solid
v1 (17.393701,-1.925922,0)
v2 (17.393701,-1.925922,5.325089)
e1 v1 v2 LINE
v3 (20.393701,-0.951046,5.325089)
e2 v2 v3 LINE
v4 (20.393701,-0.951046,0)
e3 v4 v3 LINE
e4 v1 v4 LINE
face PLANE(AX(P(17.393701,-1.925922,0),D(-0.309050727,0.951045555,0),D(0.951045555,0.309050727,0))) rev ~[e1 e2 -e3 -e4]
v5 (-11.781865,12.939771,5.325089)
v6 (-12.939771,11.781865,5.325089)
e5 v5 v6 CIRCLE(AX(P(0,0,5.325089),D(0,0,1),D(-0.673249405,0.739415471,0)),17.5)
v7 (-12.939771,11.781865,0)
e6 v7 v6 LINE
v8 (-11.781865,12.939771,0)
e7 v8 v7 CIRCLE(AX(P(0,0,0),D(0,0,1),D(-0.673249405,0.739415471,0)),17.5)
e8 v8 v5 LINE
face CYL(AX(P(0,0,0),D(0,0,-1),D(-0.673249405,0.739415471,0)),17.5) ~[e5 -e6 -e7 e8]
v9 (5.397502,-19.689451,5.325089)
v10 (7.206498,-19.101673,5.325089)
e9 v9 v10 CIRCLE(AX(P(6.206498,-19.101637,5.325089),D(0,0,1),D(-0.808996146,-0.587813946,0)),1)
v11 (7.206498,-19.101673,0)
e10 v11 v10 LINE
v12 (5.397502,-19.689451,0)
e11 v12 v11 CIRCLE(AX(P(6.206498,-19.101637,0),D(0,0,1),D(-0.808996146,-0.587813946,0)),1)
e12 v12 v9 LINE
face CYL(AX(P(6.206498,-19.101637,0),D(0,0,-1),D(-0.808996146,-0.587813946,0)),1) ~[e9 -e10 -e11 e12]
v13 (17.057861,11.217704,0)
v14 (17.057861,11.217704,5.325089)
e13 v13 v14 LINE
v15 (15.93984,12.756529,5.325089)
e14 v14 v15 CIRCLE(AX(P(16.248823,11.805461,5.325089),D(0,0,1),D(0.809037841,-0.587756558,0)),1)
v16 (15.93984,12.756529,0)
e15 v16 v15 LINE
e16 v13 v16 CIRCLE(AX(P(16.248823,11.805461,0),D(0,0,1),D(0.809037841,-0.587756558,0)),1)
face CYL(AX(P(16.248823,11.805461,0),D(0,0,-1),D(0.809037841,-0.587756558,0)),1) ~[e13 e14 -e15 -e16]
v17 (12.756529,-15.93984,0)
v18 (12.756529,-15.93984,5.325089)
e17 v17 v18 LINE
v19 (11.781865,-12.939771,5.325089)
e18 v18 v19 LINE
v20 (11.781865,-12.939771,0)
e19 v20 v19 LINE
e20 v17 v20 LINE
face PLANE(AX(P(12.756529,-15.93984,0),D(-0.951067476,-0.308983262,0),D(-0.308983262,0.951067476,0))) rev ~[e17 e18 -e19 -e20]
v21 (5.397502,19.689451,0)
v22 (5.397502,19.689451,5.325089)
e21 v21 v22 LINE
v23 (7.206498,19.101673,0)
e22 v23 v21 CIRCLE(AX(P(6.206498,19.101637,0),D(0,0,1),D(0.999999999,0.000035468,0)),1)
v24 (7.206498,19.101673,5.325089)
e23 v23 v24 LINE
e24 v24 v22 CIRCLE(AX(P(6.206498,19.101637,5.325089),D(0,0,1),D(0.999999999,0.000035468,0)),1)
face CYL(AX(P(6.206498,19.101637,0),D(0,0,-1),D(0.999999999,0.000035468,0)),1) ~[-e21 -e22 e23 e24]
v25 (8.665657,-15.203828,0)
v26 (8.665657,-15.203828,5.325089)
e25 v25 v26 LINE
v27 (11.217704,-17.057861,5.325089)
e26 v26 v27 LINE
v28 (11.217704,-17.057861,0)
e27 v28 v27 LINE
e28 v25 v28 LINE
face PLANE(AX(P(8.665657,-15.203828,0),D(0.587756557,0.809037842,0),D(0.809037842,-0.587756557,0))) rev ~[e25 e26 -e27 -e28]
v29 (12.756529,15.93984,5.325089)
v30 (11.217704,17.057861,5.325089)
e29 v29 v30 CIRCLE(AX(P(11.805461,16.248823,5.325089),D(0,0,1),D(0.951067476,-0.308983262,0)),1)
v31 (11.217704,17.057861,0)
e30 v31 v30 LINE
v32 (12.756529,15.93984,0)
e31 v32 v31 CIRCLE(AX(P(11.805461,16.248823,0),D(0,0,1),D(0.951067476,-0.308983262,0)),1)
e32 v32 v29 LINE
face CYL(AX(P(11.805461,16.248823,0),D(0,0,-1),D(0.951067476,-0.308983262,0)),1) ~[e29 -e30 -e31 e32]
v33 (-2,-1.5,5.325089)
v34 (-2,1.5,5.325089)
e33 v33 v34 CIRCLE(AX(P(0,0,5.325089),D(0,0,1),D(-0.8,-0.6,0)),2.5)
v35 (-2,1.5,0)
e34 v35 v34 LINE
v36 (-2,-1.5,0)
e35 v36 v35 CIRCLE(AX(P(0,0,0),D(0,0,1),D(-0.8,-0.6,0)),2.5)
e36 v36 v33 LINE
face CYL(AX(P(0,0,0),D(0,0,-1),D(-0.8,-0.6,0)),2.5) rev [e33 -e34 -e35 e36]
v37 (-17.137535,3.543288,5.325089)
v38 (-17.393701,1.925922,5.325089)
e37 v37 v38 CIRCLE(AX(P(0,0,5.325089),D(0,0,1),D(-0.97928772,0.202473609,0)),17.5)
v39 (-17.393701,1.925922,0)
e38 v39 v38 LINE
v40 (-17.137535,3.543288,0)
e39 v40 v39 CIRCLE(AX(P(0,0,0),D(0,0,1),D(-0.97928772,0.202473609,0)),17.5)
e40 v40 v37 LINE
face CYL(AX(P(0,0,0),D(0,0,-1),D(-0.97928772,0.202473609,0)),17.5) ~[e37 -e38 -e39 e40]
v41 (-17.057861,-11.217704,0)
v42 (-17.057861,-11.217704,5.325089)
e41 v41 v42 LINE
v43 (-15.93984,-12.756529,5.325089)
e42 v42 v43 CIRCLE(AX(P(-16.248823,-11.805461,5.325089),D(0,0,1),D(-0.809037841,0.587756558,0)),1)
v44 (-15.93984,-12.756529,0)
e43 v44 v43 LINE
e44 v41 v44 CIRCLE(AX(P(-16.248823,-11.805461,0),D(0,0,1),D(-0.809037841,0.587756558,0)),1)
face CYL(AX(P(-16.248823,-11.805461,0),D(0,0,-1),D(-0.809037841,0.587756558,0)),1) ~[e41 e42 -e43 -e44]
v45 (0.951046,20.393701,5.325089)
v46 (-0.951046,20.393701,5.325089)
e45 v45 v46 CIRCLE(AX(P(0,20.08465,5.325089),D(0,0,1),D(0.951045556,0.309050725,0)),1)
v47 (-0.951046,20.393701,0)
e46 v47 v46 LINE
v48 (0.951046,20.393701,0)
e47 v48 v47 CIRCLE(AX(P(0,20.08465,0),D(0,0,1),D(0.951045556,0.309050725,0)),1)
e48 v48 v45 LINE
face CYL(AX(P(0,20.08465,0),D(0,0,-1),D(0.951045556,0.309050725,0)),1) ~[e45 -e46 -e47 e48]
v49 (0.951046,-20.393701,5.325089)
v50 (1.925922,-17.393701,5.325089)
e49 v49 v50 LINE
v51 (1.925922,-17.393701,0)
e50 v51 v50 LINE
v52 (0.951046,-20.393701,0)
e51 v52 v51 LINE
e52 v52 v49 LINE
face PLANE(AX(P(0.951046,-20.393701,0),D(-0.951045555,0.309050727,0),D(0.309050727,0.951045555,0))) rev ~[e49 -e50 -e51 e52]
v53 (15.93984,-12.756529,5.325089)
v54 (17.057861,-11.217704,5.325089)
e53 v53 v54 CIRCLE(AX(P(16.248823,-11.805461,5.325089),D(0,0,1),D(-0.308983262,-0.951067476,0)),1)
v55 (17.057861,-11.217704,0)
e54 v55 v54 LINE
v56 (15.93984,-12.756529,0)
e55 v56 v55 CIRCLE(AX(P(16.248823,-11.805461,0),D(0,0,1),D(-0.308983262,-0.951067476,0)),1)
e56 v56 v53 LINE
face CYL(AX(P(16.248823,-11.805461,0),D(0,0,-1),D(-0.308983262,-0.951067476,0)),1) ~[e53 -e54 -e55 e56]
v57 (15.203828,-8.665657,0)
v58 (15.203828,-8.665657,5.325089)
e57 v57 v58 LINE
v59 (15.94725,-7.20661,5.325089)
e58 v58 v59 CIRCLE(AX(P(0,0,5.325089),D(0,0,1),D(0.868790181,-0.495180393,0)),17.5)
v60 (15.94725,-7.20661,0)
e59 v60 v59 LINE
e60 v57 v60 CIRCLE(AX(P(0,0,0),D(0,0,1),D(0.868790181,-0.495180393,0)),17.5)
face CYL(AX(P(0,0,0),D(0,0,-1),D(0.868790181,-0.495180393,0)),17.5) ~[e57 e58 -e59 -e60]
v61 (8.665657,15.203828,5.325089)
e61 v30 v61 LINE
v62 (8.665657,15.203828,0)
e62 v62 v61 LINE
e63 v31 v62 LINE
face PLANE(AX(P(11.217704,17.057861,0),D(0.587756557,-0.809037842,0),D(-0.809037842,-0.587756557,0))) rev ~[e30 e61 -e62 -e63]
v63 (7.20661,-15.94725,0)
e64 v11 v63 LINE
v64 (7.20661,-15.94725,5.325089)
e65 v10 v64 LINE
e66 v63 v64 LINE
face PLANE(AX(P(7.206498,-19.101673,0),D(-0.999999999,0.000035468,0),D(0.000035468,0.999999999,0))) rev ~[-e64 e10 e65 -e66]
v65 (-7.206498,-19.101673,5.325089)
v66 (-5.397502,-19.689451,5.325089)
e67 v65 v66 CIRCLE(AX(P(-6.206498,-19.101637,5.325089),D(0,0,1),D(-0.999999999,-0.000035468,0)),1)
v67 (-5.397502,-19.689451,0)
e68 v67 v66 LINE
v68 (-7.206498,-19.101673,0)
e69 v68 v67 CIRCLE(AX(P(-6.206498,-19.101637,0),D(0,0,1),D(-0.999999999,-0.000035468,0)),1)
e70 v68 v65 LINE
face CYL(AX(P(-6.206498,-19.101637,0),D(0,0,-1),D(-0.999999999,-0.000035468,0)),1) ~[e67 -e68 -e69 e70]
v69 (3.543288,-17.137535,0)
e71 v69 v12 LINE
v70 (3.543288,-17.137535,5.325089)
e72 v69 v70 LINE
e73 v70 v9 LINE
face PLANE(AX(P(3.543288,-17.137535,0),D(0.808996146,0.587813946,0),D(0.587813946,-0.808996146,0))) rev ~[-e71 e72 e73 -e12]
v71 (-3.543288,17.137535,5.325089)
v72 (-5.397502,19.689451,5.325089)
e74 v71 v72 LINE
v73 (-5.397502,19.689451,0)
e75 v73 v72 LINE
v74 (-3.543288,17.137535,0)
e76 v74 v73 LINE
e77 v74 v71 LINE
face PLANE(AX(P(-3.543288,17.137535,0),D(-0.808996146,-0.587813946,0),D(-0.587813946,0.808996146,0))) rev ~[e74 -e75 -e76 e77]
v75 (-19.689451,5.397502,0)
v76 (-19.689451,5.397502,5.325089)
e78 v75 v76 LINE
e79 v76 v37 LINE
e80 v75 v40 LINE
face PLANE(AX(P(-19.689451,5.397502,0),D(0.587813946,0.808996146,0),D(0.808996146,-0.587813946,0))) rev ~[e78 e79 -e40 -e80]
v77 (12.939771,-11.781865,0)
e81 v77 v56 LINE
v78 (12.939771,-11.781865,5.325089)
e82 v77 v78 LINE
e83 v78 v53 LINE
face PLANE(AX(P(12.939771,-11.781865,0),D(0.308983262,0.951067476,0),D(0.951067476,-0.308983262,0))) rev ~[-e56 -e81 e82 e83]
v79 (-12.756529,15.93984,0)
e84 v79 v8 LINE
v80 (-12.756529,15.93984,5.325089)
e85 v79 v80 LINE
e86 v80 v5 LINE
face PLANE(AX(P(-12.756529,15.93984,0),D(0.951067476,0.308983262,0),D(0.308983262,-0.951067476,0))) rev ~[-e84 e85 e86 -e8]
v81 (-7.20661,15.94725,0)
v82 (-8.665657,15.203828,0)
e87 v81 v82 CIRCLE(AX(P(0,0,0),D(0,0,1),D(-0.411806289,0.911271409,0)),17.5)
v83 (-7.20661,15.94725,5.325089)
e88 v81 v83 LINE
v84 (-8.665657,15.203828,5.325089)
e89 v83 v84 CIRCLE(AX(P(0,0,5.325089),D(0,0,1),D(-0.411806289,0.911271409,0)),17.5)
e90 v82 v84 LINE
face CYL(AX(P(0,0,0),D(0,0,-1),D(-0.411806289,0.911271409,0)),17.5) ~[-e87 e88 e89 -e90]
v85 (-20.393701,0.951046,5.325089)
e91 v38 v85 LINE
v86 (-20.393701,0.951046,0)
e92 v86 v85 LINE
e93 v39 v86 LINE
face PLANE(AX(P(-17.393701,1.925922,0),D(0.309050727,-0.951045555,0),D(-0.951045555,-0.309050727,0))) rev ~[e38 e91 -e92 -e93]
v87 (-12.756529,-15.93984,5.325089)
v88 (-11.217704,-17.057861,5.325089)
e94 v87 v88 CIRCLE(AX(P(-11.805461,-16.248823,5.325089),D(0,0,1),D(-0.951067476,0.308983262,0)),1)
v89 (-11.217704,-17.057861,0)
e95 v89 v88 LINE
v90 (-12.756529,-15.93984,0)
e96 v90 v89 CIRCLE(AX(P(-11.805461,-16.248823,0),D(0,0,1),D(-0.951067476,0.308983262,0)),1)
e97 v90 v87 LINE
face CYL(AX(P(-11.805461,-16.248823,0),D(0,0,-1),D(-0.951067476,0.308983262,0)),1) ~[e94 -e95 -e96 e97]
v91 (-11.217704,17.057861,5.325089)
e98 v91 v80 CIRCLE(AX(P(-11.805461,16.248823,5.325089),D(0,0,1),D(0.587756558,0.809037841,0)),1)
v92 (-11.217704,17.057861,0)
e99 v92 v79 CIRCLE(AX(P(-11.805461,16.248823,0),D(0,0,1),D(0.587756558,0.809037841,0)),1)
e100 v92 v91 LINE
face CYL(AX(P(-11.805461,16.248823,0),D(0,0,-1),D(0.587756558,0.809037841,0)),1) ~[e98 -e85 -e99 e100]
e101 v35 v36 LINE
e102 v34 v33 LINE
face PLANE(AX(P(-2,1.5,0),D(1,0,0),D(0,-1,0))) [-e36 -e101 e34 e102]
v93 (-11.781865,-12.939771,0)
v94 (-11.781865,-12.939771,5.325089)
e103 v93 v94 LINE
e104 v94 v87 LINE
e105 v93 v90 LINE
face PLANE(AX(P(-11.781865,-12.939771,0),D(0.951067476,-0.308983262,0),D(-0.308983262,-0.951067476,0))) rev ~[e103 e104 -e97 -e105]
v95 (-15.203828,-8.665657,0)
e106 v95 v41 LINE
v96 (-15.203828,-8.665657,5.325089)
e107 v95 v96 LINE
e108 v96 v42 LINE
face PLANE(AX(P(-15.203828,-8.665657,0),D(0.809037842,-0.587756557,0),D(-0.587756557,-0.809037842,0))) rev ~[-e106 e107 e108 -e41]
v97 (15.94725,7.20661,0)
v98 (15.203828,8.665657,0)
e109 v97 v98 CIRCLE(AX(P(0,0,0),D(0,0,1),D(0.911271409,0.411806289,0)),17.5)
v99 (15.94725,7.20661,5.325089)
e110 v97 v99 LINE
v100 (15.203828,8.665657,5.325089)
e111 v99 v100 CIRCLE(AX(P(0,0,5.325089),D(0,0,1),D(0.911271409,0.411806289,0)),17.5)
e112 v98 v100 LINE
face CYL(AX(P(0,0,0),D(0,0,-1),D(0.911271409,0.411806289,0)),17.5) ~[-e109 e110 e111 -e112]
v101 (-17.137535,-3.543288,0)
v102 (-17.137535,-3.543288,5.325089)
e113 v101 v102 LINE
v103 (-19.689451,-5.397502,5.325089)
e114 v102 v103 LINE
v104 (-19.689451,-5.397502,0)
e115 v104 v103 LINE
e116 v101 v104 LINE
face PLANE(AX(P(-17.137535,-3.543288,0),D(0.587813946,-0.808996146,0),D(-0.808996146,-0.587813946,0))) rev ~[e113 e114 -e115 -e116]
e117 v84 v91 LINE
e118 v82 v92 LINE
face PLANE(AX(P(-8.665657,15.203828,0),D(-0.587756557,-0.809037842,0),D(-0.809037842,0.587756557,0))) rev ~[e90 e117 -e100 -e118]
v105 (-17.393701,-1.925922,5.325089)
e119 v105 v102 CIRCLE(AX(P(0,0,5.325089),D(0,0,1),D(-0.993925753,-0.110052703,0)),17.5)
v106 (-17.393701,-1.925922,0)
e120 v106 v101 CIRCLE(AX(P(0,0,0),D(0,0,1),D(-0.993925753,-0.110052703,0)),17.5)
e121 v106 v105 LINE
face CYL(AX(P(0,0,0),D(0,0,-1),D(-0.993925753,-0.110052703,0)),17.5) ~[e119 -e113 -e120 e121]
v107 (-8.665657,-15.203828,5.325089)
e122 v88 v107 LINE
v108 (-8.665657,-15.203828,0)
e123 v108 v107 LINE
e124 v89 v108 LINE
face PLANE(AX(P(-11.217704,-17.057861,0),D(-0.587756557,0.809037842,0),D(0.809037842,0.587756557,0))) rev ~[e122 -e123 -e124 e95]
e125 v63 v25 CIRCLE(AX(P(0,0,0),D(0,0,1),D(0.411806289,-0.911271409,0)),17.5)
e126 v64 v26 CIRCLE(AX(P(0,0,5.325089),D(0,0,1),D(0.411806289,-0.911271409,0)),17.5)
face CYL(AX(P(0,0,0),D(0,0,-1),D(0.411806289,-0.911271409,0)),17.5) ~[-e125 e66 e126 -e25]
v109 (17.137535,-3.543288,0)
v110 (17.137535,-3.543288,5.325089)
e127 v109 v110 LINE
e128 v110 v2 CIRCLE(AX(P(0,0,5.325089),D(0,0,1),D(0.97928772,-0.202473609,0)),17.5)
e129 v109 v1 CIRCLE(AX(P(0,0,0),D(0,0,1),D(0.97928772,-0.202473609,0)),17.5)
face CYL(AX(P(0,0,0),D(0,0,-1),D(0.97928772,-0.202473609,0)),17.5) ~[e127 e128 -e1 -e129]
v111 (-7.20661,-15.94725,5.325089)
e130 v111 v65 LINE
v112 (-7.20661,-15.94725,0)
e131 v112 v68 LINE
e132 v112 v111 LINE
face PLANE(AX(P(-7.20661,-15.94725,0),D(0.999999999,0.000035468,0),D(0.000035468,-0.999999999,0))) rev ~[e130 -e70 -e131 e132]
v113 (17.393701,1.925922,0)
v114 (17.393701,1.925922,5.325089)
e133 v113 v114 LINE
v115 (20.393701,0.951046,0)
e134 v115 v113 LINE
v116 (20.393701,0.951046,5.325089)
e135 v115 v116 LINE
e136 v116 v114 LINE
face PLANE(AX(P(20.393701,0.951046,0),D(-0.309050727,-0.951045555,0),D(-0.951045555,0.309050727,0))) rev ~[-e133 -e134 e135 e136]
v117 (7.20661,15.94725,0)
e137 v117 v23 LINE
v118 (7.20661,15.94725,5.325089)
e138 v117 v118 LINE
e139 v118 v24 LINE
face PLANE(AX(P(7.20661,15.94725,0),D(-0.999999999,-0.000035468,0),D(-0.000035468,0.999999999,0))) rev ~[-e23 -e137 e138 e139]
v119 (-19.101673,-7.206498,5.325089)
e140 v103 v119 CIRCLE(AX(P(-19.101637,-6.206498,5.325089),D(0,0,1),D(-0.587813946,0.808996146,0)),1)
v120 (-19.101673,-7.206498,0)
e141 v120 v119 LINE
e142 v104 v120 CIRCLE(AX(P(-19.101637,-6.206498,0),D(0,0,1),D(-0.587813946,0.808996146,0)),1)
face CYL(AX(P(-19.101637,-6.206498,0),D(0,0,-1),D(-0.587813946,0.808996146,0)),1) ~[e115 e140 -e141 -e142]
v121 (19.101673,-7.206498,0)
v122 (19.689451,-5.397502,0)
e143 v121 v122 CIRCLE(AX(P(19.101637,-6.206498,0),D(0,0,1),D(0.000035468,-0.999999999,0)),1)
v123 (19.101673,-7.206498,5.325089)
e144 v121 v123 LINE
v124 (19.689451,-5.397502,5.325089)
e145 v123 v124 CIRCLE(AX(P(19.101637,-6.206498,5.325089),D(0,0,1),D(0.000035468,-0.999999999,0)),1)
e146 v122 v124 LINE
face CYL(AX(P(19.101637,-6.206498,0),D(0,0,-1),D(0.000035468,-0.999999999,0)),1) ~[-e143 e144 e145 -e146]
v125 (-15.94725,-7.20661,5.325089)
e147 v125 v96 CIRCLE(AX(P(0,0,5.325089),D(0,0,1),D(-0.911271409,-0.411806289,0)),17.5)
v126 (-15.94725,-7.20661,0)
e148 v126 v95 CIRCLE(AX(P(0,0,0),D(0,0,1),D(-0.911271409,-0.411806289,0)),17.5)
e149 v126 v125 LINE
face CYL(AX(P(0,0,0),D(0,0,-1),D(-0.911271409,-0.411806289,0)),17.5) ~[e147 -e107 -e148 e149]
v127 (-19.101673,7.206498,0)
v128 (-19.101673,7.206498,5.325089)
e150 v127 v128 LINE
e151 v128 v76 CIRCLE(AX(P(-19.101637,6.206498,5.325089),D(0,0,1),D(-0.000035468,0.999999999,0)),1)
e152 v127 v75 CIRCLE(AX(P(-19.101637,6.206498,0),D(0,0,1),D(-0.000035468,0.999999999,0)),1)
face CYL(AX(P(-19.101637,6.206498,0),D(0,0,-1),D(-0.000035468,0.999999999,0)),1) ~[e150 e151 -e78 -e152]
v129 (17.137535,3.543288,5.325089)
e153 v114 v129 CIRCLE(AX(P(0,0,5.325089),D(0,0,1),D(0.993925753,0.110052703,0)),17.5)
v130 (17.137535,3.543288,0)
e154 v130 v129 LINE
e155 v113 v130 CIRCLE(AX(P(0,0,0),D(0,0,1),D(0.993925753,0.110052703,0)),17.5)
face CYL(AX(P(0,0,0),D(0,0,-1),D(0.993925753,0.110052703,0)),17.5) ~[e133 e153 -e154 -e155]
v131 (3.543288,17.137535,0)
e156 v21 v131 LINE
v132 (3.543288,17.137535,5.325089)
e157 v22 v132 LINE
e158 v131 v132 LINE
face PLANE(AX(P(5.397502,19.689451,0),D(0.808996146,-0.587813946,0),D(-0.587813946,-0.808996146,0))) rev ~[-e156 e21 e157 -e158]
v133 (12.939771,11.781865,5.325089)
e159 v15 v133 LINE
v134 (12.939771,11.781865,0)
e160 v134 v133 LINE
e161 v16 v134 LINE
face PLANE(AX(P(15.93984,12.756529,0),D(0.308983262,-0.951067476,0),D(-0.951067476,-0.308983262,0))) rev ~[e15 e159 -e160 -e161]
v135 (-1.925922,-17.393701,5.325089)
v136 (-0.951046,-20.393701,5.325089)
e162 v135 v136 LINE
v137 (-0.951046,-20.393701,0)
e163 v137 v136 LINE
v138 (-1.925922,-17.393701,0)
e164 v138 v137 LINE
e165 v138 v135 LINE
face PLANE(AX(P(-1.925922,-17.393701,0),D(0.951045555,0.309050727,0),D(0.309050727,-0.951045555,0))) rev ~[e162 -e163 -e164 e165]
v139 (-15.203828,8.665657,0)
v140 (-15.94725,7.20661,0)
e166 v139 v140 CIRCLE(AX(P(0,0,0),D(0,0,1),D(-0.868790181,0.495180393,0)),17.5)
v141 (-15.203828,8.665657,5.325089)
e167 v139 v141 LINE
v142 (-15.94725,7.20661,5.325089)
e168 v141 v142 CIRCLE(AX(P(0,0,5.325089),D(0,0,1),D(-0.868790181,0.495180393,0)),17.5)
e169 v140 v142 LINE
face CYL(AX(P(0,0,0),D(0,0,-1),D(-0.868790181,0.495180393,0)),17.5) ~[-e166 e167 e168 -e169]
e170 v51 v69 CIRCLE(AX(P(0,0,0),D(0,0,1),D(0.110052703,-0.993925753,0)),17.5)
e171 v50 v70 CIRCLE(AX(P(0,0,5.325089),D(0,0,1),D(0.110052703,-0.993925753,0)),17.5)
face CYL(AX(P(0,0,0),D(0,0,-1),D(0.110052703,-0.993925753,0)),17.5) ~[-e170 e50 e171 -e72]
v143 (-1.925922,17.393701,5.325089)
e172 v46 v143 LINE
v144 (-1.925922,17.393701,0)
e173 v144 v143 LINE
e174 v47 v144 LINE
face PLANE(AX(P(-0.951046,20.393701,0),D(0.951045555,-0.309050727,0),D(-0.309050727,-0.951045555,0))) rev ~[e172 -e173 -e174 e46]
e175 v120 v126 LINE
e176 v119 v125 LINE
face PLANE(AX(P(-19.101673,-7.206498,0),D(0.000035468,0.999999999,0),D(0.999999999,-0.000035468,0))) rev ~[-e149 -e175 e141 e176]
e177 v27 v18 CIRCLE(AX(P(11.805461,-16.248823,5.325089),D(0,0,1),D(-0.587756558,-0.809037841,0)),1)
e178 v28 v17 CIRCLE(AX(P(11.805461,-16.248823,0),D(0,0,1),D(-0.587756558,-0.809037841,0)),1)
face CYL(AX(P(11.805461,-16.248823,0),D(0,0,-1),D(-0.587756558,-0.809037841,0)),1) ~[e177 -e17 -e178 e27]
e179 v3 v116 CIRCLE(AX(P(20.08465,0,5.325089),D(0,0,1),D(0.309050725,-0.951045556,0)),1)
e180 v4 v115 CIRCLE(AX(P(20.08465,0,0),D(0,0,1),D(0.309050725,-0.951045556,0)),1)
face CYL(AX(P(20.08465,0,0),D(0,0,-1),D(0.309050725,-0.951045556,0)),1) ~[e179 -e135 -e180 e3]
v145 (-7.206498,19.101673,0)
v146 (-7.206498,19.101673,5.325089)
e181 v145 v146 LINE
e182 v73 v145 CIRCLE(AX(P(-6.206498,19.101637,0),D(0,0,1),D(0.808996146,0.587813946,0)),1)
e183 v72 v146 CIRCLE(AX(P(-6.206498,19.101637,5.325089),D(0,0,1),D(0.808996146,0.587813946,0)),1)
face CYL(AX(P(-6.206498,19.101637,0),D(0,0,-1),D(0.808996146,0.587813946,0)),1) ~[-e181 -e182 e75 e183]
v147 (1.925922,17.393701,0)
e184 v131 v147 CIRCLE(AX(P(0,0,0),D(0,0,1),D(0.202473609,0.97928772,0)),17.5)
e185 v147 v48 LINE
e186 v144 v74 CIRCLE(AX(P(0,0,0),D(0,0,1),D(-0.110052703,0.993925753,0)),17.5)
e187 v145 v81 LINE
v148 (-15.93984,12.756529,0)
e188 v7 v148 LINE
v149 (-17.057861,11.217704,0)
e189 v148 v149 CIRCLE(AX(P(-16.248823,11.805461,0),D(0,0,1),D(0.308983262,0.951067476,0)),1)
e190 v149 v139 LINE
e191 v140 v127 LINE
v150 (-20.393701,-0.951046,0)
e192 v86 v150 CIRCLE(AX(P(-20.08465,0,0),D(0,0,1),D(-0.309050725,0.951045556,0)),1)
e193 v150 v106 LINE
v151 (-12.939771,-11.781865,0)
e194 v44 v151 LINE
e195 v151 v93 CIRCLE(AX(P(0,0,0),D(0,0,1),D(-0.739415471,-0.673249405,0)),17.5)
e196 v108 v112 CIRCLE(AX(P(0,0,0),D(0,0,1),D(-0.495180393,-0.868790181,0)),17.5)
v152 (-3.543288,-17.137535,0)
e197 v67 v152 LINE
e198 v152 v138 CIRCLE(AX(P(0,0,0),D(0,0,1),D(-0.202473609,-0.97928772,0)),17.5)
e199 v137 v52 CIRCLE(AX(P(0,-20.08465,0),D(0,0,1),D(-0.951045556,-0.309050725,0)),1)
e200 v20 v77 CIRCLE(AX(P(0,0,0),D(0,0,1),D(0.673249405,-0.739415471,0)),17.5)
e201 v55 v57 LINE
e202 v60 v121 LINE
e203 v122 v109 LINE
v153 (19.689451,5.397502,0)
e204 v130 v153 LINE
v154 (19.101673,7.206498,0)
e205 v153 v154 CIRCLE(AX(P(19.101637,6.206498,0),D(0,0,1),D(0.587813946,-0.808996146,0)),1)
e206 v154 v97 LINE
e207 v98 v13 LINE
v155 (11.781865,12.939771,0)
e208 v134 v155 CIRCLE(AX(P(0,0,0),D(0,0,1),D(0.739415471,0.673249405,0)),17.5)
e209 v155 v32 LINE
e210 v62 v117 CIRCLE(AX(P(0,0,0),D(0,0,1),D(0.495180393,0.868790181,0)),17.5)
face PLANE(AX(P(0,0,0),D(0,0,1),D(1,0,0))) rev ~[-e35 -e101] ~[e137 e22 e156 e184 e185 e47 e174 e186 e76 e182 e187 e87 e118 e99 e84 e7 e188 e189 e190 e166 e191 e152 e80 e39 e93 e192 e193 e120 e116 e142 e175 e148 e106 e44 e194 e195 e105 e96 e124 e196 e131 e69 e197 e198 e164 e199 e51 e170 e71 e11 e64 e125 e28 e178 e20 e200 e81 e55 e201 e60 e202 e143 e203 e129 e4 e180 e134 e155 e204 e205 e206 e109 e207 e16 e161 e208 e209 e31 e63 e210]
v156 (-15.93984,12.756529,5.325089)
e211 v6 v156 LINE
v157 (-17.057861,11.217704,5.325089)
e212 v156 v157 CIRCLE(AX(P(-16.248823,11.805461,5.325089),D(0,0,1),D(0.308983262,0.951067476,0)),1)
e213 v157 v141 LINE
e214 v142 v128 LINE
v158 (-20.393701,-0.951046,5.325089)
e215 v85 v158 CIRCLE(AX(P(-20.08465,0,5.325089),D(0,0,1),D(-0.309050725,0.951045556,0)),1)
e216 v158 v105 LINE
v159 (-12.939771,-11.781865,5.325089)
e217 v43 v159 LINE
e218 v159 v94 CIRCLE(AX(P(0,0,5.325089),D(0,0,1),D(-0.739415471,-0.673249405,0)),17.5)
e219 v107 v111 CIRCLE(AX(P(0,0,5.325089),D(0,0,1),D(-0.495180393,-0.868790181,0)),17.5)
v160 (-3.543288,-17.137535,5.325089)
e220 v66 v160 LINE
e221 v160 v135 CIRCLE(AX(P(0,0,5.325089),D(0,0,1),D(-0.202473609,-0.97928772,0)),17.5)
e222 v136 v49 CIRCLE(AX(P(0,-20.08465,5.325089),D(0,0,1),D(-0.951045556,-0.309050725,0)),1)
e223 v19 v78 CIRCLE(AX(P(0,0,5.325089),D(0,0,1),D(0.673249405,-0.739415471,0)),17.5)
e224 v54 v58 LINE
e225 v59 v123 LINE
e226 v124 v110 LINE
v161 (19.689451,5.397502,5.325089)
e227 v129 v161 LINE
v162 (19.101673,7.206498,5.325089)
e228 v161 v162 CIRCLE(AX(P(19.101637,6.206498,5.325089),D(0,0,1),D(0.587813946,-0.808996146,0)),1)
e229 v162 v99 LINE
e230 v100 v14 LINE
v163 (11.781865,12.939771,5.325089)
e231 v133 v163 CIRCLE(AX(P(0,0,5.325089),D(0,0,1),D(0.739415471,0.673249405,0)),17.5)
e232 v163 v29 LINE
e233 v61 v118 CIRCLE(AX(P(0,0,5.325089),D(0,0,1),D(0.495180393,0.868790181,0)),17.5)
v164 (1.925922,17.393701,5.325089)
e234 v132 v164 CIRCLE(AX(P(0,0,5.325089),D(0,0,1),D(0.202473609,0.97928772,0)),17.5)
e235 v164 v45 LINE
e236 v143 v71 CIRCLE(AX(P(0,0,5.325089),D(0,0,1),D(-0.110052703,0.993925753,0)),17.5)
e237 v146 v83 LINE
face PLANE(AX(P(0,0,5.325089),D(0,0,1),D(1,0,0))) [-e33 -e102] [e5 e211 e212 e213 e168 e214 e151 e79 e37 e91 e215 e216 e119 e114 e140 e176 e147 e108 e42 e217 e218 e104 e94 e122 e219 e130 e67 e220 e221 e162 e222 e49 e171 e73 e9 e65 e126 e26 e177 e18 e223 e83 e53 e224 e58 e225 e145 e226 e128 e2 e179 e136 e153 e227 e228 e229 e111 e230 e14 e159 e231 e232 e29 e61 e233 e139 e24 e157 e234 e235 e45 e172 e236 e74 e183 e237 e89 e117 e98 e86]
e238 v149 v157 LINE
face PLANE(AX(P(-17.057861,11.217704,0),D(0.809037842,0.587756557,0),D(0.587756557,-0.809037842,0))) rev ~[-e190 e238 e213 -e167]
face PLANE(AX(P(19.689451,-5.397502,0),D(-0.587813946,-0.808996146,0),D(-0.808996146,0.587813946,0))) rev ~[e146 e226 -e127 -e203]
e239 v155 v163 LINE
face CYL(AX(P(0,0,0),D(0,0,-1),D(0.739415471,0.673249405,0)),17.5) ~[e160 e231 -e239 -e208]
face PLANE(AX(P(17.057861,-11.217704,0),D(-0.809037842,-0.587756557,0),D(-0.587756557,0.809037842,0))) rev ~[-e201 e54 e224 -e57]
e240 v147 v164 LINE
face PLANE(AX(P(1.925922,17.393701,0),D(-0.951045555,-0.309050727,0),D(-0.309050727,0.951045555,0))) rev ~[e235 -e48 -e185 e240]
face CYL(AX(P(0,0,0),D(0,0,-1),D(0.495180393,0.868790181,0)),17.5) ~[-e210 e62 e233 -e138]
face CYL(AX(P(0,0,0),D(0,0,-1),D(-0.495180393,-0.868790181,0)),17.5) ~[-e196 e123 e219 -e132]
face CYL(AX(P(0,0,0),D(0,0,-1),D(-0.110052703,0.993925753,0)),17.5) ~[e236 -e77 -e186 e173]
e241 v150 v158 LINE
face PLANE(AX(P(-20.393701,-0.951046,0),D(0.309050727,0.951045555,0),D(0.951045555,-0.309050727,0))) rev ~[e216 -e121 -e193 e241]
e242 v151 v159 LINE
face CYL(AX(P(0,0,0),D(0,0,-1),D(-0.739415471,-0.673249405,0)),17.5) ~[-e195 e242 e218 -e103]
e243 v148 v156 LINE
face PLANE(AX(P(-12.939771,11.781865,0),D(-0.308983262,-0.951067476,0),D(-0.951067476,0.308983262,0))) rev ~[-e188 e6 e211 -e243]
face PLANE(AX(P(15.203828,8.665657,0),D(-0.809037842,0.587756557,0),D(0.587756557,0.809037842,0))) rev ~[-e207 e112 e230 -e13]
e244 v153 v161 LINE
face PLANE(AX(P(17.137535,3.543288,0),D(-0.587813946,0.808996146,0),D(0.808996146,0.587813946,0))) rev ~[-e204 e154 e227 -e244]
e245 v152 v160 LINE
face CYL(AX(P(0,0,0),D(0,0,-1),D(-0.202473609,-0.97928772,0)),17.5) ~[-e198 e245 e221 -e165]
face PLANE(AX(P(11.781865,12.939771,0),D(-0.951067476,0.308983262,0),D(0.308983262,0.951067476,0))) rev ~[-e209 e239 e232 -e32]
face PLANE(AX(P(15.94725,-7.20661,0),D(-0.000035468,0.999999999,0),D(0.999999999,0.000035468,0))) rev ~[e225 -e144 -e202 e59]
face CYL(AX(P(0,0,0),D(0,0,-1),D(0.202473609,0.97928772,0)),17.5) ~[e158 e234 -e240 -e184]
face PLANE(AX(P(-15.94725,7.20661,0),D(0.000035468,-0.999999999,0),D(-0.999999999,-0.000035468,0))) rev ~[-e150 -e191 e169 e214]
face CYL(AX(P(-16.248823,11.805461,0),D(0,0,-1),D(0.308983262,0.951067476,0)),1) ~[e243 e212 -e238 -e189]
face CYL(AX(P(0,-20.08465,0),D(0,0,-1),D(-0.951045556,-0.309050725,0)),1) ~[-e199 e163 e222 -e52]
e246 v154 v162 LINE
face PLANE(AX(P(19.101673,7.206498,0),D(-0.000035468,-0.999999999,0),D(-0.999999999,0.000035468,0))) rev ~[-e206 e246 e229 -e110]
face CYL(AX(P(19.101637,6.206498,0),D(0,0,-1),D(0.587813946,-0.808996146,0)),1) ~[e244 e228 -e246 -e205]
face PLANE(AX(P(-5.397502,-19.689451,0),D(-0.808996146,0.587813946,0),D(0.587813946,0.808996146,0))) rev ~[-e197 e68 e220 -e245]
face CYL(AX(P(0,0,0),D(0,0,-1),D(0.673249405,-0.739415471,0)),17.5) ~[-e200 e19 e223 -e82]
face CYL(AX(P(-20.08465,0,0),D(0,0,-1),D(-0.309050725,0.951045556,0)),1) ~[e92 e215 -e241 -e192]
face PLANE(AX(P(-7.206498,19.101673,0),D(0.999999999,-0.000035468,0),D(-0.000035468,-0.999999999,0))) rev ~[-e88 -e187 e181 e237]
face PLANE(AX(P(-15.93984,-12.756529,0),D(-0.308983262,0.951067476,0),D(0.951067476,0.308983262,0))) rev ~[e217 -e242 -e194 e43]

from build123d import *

# Parameters (mm, degrees)
DODANIE_WYCI_GNI_CIE1_DEPTH = 5.325088567


with BuildPart() as part:
    # Szkic1 → Dodanie-wyciągnięcie1 (new body)
    with BuildSketch(Plane.XY):
        with BuildLine():
            Line((-0.951045555, 20.39370068), (-1.925922284, 17.39370068))
            ThreePointArc((-1.925922284, 17.39370068), (-2.737603138, 17.28454596), (-3.543288168, 17.13753509))
            Line((-3.543288168, 17.13753509), (-5.397502016, 19.689451162))
            ThreePointArc((-5.397502016, 19.689451162), (-6.515515156, 20.052693732), (-7.206498161, 19.101672684))
            Line((-7.206498161, 19.101672684), (-7.206610043, 15.947249659))
            ThreePointArc((-7.206610043, 15.947249659), (-7.944833745, 15.592614173), (-8.665656885, 15.203828161))
            Line((-8.665656885, 15.203828161), (-11.217704483, 17.05786098))
            ThreePointArc((-11.217704483, 17.05786098), (-12.393246293, 17.057840133), (-12.756528516, 15.939839877))
            Line((-12.756528516, 15.939839877), (-11.7818646, 12.93977073))
            ThreePointArc((-11.7818646, 12.93977073), (-12.374368671, 12.374368671), (-12.93977073, 11.7818646))
            Line((-12.93977073, 11.7818646), (-15.939839877, 12.756528516))
            ThreePointArc((-15.939839877, 12.756528516), (-17.057840133, 12.393246293), (-17.05786098, 11.217704483))
            Line((-17.05786098, 11.217704483), (-15.203828161, 8.665656885))
            ThreePointArc((-15.203828161, 8.665656885), (-15.592614173, 7.944833745), (-15.947249659, 7.206610043))
            Line((-15.947249659, 7.206610043), (-19.101672684, 7.206498161))
            ThreePointArc((-19.101672684, 7.206498161), (-20.052693732, 6.515515156), (-19.689451162, 5.397502016))
            Line((-19.689451162, 5.397502016), (-17.13753509, 3.543288168))
            ThreePointArc((-17.13753509, 3.543288168), (-17.28454596, 2.737603138), (-17.39370068, 1.925922284))
            Line((-17.39370068, 1.925922284), (-20.39370068, 0.951045555))
            ThreePointArc((-20.39370068, 0.951045555), (-21.084649954, 0), (-20.39370068, -0.951045555))
            Line((-20.39370068, -0.951045555), (-17.39370068, -1.925922284))
            ThreePointArc((-17.39370068, -1.925922284), (-17.28454596, -2.737603138), (-17.13753509, -3.543288168))
            Line((-17.13753509, -3.543288168), (-19.689451162, -5.397502016))
            ThreePointArc((-19.689451162, -5.397502016), (-20.052693732, -6.515515156), (-19.101672684, -7.206498161))
            Line((-19.101672684, -7.206498161), (-15.947249659, -7.206610043))
            ThreePointArc((-15.947249659, -7.206610043), (-15.592614173, -7.944833745), (-15.203828161, -8.665656885))
            Line((-15.203828161, -8.665656885), (-17.05786098, -11.217704483))
            ThreePointArc((-17.05786098, -11.217704483), (-17.057840133, -12.393246293), (-15.939839877, -12.756528516))
            Line((-15.939839877, -12.756528516), (-12.93977073, -11.7818646))
            ThreePointArc((-12.93977073, -11.7818646), (-12.374368671, -12.374368671), (-11.7818646, -12.93977073))
            Line((-11.7818646, -12.93977073), (-12.756528516, -15.939839877))
            ThreePointArc((-12.756528516, -15.939839877), (-12.393246293, -17.057840133), (-11.217704483, -17.05786098))
            Line((-11.217704483, -17.05786098), (-8.665656885, -15.203828161))
            ThreePointArc((-8.665656885, -15.203828161), (-7.944833745, -15.592614173), (-7.206610043, -15.947249659))
            Line((-7.206610043, -15.947249659), (-7.206498161, -19.101672684))
            ThreePointArc((-7.206498161, -19.101672684), (-6.515515156, -20.052693732), (-5.397502016, -19.689451162))
            Line((-5.397502016, -19.689451162), (-3.543288168, -17.13753509))
            ThreePointArc((-3.543288168, -17.13753509), (-2.737603138, -17.28454596), (-1.925922284, -17.39370068))
            Line((-1.925922284, -17.39370068), (-0.951045555, -20.39370068))
            ThreePointArc((-0.951045555, -20.39370068), (0, -21.084649954), (0.951045555, -20.39370068))
            Line((0.951045555, -20.39370068), (1.925922284, -17.39370068))
            ThreePointArc((1.925922284, -17.39370068), (2.737603138, -17.28454596), (3.543288168, -17.13753509))
            Line((3.543288168, -17.13753509), (5.397502016, -19.689451162))
            ThreePointArc((5.397502016, -19.689451162), (6.515515156, -20.052693732), (7.206498161, -19.101672684))
            Line((7.206498161, -19.101672684), (7.206610043, -15.947249659))
            ThreePointArc((7.206610043, -15.947249659), (7.944833745, -15.592614173), (8.665656885, -15.203828161))
            Line((8.665656885, -15.203828161), (11.217704483, -17.05786098))
            ThreePointArc((11.217704483, -17.05786098), (12.393246293, -17.057840133), (12.756528516, -15.939839877))
            Line((12.756528516, -15.939839877), (11.7818646, -12.93977073))
            ThreePointArc((11.7818646, -12.93977073), (12.374368671, -12.374368671), (12.93977073, -11.7818646))
            Line((12.93977073, -11.7818646), (15.939839877, -12.756528516))
            ThreePointArc((15.939839877, -12.756528516), (17.057840133, -12.393246293), (17.05786098, -11.217704483))
            Line((17.05786098, -11.217704483), (15.203828161, -8.665656885))
            ThreePointArc((15.203828161, -8.665656885), (15.592614173, -7.944833745), (15.947249659, -7.206610043))
            Line((15.947249659, -7.206610043), (19.101672684, -7.206498161))
            ThreePointArc((19.101672684, -7.206498161), (20.052693732, -6.515515156), (19.689451162, -5.397502016))
            Line((19.689451162, -5.397502016), (17.13753509, -3.543288168))
            ThreePointArc((17.13753509, -3.543288168), (17.28454596, -2.737603138), (17.39370068, -1.925922284))
            Line((17.39370068, -1.925922284), (20.39370068, -0.951045555))
            ThreePointArc((20.39370068, -0.951045555), (21.084649954, 0), (20.39370068, 0.951045555))
            Line((20.39370068, 0.951045555), (17.39370068, 1.925922284))
            ThreePointArc((17.39370068, 1.925922284), (17.28454596, 2.737603138), (17.13753509, 3.543288168))
            Line((17.13753509, 3.543288168), (19.689451162, 5.397502016))
            ThreePointArc((19.689451162, 5.397502016), (20.052693732, 6.515515156), (19.101672684, 7.206498161))
            Line((19.101672684, 7.206498161), (15.947249659, 7.206610043))
            ThreePointArc((15.947249659, 7.206610043), (15.592614173, 7.944833745), (15.203828161, 8.665656885))
            Line((15.203828161, 8.665656885), (17.05786098, 11.217704483))
            ThreePointArc((17.05786098, 11.217704483), (17.057840133, 12.393246293), (15.939839877, 12.756528516))
            Line((15.939839877, 12.756528516), (12.93977073, 11.7818646))
            ThreePointArc((12.93977073, 11.7818646), (12.374368671, 12.374368671), (11.7818646, 12.93977073))
            Line((11.7818646, 12.93977073), (12.756528516, 15.939839877))
            ThreePointArc((12.756528516, 15.939839877), (12.393246293, 17.057840133), (11.217704483, 17.05786098))
            Line((11.217704483, 17.05786098), (8.665656885, 15.203828161))
            ThreePointArc((8.665656885, 15.203828161), (7.944833745, 15.592614173), (7.206610043, 15.947249659))
            Line((7.206610043, 15.947249659), (7.206498161, 19.101672684))
            ThreePointArc((7.206498161, 19.101672684), (6.515515156, 20.052693732), (5.397502016, 19.689451162))
            Line((5.397502016, 19.689451162), (3.543288168, 17.13753509))
            ThreePointArc((3.543288168, 17.13753509), (2.737603138, 17.28454596), (1.925922284, 17.39370068))
            Line((1.925922284, 17.39370068), (0.951045555, 20.39370068))
            ThreePointArc((0.951045555, 20.39370068), (0, 21.084649954), (-0.951045555, 20.39370068))
        make_face()
        with BuildLine():
            Line((-2, 1.5), (-2, -1.5))
            ThreePointArc((-2, -1.5), (2.5, 0), (-2, 1.5))
        make_face(mode=Mode.SUBTRACT)
    extrude(amount=DODANIE_WYCI_GNI_CIE1_DEPTH)


solid = part.part
